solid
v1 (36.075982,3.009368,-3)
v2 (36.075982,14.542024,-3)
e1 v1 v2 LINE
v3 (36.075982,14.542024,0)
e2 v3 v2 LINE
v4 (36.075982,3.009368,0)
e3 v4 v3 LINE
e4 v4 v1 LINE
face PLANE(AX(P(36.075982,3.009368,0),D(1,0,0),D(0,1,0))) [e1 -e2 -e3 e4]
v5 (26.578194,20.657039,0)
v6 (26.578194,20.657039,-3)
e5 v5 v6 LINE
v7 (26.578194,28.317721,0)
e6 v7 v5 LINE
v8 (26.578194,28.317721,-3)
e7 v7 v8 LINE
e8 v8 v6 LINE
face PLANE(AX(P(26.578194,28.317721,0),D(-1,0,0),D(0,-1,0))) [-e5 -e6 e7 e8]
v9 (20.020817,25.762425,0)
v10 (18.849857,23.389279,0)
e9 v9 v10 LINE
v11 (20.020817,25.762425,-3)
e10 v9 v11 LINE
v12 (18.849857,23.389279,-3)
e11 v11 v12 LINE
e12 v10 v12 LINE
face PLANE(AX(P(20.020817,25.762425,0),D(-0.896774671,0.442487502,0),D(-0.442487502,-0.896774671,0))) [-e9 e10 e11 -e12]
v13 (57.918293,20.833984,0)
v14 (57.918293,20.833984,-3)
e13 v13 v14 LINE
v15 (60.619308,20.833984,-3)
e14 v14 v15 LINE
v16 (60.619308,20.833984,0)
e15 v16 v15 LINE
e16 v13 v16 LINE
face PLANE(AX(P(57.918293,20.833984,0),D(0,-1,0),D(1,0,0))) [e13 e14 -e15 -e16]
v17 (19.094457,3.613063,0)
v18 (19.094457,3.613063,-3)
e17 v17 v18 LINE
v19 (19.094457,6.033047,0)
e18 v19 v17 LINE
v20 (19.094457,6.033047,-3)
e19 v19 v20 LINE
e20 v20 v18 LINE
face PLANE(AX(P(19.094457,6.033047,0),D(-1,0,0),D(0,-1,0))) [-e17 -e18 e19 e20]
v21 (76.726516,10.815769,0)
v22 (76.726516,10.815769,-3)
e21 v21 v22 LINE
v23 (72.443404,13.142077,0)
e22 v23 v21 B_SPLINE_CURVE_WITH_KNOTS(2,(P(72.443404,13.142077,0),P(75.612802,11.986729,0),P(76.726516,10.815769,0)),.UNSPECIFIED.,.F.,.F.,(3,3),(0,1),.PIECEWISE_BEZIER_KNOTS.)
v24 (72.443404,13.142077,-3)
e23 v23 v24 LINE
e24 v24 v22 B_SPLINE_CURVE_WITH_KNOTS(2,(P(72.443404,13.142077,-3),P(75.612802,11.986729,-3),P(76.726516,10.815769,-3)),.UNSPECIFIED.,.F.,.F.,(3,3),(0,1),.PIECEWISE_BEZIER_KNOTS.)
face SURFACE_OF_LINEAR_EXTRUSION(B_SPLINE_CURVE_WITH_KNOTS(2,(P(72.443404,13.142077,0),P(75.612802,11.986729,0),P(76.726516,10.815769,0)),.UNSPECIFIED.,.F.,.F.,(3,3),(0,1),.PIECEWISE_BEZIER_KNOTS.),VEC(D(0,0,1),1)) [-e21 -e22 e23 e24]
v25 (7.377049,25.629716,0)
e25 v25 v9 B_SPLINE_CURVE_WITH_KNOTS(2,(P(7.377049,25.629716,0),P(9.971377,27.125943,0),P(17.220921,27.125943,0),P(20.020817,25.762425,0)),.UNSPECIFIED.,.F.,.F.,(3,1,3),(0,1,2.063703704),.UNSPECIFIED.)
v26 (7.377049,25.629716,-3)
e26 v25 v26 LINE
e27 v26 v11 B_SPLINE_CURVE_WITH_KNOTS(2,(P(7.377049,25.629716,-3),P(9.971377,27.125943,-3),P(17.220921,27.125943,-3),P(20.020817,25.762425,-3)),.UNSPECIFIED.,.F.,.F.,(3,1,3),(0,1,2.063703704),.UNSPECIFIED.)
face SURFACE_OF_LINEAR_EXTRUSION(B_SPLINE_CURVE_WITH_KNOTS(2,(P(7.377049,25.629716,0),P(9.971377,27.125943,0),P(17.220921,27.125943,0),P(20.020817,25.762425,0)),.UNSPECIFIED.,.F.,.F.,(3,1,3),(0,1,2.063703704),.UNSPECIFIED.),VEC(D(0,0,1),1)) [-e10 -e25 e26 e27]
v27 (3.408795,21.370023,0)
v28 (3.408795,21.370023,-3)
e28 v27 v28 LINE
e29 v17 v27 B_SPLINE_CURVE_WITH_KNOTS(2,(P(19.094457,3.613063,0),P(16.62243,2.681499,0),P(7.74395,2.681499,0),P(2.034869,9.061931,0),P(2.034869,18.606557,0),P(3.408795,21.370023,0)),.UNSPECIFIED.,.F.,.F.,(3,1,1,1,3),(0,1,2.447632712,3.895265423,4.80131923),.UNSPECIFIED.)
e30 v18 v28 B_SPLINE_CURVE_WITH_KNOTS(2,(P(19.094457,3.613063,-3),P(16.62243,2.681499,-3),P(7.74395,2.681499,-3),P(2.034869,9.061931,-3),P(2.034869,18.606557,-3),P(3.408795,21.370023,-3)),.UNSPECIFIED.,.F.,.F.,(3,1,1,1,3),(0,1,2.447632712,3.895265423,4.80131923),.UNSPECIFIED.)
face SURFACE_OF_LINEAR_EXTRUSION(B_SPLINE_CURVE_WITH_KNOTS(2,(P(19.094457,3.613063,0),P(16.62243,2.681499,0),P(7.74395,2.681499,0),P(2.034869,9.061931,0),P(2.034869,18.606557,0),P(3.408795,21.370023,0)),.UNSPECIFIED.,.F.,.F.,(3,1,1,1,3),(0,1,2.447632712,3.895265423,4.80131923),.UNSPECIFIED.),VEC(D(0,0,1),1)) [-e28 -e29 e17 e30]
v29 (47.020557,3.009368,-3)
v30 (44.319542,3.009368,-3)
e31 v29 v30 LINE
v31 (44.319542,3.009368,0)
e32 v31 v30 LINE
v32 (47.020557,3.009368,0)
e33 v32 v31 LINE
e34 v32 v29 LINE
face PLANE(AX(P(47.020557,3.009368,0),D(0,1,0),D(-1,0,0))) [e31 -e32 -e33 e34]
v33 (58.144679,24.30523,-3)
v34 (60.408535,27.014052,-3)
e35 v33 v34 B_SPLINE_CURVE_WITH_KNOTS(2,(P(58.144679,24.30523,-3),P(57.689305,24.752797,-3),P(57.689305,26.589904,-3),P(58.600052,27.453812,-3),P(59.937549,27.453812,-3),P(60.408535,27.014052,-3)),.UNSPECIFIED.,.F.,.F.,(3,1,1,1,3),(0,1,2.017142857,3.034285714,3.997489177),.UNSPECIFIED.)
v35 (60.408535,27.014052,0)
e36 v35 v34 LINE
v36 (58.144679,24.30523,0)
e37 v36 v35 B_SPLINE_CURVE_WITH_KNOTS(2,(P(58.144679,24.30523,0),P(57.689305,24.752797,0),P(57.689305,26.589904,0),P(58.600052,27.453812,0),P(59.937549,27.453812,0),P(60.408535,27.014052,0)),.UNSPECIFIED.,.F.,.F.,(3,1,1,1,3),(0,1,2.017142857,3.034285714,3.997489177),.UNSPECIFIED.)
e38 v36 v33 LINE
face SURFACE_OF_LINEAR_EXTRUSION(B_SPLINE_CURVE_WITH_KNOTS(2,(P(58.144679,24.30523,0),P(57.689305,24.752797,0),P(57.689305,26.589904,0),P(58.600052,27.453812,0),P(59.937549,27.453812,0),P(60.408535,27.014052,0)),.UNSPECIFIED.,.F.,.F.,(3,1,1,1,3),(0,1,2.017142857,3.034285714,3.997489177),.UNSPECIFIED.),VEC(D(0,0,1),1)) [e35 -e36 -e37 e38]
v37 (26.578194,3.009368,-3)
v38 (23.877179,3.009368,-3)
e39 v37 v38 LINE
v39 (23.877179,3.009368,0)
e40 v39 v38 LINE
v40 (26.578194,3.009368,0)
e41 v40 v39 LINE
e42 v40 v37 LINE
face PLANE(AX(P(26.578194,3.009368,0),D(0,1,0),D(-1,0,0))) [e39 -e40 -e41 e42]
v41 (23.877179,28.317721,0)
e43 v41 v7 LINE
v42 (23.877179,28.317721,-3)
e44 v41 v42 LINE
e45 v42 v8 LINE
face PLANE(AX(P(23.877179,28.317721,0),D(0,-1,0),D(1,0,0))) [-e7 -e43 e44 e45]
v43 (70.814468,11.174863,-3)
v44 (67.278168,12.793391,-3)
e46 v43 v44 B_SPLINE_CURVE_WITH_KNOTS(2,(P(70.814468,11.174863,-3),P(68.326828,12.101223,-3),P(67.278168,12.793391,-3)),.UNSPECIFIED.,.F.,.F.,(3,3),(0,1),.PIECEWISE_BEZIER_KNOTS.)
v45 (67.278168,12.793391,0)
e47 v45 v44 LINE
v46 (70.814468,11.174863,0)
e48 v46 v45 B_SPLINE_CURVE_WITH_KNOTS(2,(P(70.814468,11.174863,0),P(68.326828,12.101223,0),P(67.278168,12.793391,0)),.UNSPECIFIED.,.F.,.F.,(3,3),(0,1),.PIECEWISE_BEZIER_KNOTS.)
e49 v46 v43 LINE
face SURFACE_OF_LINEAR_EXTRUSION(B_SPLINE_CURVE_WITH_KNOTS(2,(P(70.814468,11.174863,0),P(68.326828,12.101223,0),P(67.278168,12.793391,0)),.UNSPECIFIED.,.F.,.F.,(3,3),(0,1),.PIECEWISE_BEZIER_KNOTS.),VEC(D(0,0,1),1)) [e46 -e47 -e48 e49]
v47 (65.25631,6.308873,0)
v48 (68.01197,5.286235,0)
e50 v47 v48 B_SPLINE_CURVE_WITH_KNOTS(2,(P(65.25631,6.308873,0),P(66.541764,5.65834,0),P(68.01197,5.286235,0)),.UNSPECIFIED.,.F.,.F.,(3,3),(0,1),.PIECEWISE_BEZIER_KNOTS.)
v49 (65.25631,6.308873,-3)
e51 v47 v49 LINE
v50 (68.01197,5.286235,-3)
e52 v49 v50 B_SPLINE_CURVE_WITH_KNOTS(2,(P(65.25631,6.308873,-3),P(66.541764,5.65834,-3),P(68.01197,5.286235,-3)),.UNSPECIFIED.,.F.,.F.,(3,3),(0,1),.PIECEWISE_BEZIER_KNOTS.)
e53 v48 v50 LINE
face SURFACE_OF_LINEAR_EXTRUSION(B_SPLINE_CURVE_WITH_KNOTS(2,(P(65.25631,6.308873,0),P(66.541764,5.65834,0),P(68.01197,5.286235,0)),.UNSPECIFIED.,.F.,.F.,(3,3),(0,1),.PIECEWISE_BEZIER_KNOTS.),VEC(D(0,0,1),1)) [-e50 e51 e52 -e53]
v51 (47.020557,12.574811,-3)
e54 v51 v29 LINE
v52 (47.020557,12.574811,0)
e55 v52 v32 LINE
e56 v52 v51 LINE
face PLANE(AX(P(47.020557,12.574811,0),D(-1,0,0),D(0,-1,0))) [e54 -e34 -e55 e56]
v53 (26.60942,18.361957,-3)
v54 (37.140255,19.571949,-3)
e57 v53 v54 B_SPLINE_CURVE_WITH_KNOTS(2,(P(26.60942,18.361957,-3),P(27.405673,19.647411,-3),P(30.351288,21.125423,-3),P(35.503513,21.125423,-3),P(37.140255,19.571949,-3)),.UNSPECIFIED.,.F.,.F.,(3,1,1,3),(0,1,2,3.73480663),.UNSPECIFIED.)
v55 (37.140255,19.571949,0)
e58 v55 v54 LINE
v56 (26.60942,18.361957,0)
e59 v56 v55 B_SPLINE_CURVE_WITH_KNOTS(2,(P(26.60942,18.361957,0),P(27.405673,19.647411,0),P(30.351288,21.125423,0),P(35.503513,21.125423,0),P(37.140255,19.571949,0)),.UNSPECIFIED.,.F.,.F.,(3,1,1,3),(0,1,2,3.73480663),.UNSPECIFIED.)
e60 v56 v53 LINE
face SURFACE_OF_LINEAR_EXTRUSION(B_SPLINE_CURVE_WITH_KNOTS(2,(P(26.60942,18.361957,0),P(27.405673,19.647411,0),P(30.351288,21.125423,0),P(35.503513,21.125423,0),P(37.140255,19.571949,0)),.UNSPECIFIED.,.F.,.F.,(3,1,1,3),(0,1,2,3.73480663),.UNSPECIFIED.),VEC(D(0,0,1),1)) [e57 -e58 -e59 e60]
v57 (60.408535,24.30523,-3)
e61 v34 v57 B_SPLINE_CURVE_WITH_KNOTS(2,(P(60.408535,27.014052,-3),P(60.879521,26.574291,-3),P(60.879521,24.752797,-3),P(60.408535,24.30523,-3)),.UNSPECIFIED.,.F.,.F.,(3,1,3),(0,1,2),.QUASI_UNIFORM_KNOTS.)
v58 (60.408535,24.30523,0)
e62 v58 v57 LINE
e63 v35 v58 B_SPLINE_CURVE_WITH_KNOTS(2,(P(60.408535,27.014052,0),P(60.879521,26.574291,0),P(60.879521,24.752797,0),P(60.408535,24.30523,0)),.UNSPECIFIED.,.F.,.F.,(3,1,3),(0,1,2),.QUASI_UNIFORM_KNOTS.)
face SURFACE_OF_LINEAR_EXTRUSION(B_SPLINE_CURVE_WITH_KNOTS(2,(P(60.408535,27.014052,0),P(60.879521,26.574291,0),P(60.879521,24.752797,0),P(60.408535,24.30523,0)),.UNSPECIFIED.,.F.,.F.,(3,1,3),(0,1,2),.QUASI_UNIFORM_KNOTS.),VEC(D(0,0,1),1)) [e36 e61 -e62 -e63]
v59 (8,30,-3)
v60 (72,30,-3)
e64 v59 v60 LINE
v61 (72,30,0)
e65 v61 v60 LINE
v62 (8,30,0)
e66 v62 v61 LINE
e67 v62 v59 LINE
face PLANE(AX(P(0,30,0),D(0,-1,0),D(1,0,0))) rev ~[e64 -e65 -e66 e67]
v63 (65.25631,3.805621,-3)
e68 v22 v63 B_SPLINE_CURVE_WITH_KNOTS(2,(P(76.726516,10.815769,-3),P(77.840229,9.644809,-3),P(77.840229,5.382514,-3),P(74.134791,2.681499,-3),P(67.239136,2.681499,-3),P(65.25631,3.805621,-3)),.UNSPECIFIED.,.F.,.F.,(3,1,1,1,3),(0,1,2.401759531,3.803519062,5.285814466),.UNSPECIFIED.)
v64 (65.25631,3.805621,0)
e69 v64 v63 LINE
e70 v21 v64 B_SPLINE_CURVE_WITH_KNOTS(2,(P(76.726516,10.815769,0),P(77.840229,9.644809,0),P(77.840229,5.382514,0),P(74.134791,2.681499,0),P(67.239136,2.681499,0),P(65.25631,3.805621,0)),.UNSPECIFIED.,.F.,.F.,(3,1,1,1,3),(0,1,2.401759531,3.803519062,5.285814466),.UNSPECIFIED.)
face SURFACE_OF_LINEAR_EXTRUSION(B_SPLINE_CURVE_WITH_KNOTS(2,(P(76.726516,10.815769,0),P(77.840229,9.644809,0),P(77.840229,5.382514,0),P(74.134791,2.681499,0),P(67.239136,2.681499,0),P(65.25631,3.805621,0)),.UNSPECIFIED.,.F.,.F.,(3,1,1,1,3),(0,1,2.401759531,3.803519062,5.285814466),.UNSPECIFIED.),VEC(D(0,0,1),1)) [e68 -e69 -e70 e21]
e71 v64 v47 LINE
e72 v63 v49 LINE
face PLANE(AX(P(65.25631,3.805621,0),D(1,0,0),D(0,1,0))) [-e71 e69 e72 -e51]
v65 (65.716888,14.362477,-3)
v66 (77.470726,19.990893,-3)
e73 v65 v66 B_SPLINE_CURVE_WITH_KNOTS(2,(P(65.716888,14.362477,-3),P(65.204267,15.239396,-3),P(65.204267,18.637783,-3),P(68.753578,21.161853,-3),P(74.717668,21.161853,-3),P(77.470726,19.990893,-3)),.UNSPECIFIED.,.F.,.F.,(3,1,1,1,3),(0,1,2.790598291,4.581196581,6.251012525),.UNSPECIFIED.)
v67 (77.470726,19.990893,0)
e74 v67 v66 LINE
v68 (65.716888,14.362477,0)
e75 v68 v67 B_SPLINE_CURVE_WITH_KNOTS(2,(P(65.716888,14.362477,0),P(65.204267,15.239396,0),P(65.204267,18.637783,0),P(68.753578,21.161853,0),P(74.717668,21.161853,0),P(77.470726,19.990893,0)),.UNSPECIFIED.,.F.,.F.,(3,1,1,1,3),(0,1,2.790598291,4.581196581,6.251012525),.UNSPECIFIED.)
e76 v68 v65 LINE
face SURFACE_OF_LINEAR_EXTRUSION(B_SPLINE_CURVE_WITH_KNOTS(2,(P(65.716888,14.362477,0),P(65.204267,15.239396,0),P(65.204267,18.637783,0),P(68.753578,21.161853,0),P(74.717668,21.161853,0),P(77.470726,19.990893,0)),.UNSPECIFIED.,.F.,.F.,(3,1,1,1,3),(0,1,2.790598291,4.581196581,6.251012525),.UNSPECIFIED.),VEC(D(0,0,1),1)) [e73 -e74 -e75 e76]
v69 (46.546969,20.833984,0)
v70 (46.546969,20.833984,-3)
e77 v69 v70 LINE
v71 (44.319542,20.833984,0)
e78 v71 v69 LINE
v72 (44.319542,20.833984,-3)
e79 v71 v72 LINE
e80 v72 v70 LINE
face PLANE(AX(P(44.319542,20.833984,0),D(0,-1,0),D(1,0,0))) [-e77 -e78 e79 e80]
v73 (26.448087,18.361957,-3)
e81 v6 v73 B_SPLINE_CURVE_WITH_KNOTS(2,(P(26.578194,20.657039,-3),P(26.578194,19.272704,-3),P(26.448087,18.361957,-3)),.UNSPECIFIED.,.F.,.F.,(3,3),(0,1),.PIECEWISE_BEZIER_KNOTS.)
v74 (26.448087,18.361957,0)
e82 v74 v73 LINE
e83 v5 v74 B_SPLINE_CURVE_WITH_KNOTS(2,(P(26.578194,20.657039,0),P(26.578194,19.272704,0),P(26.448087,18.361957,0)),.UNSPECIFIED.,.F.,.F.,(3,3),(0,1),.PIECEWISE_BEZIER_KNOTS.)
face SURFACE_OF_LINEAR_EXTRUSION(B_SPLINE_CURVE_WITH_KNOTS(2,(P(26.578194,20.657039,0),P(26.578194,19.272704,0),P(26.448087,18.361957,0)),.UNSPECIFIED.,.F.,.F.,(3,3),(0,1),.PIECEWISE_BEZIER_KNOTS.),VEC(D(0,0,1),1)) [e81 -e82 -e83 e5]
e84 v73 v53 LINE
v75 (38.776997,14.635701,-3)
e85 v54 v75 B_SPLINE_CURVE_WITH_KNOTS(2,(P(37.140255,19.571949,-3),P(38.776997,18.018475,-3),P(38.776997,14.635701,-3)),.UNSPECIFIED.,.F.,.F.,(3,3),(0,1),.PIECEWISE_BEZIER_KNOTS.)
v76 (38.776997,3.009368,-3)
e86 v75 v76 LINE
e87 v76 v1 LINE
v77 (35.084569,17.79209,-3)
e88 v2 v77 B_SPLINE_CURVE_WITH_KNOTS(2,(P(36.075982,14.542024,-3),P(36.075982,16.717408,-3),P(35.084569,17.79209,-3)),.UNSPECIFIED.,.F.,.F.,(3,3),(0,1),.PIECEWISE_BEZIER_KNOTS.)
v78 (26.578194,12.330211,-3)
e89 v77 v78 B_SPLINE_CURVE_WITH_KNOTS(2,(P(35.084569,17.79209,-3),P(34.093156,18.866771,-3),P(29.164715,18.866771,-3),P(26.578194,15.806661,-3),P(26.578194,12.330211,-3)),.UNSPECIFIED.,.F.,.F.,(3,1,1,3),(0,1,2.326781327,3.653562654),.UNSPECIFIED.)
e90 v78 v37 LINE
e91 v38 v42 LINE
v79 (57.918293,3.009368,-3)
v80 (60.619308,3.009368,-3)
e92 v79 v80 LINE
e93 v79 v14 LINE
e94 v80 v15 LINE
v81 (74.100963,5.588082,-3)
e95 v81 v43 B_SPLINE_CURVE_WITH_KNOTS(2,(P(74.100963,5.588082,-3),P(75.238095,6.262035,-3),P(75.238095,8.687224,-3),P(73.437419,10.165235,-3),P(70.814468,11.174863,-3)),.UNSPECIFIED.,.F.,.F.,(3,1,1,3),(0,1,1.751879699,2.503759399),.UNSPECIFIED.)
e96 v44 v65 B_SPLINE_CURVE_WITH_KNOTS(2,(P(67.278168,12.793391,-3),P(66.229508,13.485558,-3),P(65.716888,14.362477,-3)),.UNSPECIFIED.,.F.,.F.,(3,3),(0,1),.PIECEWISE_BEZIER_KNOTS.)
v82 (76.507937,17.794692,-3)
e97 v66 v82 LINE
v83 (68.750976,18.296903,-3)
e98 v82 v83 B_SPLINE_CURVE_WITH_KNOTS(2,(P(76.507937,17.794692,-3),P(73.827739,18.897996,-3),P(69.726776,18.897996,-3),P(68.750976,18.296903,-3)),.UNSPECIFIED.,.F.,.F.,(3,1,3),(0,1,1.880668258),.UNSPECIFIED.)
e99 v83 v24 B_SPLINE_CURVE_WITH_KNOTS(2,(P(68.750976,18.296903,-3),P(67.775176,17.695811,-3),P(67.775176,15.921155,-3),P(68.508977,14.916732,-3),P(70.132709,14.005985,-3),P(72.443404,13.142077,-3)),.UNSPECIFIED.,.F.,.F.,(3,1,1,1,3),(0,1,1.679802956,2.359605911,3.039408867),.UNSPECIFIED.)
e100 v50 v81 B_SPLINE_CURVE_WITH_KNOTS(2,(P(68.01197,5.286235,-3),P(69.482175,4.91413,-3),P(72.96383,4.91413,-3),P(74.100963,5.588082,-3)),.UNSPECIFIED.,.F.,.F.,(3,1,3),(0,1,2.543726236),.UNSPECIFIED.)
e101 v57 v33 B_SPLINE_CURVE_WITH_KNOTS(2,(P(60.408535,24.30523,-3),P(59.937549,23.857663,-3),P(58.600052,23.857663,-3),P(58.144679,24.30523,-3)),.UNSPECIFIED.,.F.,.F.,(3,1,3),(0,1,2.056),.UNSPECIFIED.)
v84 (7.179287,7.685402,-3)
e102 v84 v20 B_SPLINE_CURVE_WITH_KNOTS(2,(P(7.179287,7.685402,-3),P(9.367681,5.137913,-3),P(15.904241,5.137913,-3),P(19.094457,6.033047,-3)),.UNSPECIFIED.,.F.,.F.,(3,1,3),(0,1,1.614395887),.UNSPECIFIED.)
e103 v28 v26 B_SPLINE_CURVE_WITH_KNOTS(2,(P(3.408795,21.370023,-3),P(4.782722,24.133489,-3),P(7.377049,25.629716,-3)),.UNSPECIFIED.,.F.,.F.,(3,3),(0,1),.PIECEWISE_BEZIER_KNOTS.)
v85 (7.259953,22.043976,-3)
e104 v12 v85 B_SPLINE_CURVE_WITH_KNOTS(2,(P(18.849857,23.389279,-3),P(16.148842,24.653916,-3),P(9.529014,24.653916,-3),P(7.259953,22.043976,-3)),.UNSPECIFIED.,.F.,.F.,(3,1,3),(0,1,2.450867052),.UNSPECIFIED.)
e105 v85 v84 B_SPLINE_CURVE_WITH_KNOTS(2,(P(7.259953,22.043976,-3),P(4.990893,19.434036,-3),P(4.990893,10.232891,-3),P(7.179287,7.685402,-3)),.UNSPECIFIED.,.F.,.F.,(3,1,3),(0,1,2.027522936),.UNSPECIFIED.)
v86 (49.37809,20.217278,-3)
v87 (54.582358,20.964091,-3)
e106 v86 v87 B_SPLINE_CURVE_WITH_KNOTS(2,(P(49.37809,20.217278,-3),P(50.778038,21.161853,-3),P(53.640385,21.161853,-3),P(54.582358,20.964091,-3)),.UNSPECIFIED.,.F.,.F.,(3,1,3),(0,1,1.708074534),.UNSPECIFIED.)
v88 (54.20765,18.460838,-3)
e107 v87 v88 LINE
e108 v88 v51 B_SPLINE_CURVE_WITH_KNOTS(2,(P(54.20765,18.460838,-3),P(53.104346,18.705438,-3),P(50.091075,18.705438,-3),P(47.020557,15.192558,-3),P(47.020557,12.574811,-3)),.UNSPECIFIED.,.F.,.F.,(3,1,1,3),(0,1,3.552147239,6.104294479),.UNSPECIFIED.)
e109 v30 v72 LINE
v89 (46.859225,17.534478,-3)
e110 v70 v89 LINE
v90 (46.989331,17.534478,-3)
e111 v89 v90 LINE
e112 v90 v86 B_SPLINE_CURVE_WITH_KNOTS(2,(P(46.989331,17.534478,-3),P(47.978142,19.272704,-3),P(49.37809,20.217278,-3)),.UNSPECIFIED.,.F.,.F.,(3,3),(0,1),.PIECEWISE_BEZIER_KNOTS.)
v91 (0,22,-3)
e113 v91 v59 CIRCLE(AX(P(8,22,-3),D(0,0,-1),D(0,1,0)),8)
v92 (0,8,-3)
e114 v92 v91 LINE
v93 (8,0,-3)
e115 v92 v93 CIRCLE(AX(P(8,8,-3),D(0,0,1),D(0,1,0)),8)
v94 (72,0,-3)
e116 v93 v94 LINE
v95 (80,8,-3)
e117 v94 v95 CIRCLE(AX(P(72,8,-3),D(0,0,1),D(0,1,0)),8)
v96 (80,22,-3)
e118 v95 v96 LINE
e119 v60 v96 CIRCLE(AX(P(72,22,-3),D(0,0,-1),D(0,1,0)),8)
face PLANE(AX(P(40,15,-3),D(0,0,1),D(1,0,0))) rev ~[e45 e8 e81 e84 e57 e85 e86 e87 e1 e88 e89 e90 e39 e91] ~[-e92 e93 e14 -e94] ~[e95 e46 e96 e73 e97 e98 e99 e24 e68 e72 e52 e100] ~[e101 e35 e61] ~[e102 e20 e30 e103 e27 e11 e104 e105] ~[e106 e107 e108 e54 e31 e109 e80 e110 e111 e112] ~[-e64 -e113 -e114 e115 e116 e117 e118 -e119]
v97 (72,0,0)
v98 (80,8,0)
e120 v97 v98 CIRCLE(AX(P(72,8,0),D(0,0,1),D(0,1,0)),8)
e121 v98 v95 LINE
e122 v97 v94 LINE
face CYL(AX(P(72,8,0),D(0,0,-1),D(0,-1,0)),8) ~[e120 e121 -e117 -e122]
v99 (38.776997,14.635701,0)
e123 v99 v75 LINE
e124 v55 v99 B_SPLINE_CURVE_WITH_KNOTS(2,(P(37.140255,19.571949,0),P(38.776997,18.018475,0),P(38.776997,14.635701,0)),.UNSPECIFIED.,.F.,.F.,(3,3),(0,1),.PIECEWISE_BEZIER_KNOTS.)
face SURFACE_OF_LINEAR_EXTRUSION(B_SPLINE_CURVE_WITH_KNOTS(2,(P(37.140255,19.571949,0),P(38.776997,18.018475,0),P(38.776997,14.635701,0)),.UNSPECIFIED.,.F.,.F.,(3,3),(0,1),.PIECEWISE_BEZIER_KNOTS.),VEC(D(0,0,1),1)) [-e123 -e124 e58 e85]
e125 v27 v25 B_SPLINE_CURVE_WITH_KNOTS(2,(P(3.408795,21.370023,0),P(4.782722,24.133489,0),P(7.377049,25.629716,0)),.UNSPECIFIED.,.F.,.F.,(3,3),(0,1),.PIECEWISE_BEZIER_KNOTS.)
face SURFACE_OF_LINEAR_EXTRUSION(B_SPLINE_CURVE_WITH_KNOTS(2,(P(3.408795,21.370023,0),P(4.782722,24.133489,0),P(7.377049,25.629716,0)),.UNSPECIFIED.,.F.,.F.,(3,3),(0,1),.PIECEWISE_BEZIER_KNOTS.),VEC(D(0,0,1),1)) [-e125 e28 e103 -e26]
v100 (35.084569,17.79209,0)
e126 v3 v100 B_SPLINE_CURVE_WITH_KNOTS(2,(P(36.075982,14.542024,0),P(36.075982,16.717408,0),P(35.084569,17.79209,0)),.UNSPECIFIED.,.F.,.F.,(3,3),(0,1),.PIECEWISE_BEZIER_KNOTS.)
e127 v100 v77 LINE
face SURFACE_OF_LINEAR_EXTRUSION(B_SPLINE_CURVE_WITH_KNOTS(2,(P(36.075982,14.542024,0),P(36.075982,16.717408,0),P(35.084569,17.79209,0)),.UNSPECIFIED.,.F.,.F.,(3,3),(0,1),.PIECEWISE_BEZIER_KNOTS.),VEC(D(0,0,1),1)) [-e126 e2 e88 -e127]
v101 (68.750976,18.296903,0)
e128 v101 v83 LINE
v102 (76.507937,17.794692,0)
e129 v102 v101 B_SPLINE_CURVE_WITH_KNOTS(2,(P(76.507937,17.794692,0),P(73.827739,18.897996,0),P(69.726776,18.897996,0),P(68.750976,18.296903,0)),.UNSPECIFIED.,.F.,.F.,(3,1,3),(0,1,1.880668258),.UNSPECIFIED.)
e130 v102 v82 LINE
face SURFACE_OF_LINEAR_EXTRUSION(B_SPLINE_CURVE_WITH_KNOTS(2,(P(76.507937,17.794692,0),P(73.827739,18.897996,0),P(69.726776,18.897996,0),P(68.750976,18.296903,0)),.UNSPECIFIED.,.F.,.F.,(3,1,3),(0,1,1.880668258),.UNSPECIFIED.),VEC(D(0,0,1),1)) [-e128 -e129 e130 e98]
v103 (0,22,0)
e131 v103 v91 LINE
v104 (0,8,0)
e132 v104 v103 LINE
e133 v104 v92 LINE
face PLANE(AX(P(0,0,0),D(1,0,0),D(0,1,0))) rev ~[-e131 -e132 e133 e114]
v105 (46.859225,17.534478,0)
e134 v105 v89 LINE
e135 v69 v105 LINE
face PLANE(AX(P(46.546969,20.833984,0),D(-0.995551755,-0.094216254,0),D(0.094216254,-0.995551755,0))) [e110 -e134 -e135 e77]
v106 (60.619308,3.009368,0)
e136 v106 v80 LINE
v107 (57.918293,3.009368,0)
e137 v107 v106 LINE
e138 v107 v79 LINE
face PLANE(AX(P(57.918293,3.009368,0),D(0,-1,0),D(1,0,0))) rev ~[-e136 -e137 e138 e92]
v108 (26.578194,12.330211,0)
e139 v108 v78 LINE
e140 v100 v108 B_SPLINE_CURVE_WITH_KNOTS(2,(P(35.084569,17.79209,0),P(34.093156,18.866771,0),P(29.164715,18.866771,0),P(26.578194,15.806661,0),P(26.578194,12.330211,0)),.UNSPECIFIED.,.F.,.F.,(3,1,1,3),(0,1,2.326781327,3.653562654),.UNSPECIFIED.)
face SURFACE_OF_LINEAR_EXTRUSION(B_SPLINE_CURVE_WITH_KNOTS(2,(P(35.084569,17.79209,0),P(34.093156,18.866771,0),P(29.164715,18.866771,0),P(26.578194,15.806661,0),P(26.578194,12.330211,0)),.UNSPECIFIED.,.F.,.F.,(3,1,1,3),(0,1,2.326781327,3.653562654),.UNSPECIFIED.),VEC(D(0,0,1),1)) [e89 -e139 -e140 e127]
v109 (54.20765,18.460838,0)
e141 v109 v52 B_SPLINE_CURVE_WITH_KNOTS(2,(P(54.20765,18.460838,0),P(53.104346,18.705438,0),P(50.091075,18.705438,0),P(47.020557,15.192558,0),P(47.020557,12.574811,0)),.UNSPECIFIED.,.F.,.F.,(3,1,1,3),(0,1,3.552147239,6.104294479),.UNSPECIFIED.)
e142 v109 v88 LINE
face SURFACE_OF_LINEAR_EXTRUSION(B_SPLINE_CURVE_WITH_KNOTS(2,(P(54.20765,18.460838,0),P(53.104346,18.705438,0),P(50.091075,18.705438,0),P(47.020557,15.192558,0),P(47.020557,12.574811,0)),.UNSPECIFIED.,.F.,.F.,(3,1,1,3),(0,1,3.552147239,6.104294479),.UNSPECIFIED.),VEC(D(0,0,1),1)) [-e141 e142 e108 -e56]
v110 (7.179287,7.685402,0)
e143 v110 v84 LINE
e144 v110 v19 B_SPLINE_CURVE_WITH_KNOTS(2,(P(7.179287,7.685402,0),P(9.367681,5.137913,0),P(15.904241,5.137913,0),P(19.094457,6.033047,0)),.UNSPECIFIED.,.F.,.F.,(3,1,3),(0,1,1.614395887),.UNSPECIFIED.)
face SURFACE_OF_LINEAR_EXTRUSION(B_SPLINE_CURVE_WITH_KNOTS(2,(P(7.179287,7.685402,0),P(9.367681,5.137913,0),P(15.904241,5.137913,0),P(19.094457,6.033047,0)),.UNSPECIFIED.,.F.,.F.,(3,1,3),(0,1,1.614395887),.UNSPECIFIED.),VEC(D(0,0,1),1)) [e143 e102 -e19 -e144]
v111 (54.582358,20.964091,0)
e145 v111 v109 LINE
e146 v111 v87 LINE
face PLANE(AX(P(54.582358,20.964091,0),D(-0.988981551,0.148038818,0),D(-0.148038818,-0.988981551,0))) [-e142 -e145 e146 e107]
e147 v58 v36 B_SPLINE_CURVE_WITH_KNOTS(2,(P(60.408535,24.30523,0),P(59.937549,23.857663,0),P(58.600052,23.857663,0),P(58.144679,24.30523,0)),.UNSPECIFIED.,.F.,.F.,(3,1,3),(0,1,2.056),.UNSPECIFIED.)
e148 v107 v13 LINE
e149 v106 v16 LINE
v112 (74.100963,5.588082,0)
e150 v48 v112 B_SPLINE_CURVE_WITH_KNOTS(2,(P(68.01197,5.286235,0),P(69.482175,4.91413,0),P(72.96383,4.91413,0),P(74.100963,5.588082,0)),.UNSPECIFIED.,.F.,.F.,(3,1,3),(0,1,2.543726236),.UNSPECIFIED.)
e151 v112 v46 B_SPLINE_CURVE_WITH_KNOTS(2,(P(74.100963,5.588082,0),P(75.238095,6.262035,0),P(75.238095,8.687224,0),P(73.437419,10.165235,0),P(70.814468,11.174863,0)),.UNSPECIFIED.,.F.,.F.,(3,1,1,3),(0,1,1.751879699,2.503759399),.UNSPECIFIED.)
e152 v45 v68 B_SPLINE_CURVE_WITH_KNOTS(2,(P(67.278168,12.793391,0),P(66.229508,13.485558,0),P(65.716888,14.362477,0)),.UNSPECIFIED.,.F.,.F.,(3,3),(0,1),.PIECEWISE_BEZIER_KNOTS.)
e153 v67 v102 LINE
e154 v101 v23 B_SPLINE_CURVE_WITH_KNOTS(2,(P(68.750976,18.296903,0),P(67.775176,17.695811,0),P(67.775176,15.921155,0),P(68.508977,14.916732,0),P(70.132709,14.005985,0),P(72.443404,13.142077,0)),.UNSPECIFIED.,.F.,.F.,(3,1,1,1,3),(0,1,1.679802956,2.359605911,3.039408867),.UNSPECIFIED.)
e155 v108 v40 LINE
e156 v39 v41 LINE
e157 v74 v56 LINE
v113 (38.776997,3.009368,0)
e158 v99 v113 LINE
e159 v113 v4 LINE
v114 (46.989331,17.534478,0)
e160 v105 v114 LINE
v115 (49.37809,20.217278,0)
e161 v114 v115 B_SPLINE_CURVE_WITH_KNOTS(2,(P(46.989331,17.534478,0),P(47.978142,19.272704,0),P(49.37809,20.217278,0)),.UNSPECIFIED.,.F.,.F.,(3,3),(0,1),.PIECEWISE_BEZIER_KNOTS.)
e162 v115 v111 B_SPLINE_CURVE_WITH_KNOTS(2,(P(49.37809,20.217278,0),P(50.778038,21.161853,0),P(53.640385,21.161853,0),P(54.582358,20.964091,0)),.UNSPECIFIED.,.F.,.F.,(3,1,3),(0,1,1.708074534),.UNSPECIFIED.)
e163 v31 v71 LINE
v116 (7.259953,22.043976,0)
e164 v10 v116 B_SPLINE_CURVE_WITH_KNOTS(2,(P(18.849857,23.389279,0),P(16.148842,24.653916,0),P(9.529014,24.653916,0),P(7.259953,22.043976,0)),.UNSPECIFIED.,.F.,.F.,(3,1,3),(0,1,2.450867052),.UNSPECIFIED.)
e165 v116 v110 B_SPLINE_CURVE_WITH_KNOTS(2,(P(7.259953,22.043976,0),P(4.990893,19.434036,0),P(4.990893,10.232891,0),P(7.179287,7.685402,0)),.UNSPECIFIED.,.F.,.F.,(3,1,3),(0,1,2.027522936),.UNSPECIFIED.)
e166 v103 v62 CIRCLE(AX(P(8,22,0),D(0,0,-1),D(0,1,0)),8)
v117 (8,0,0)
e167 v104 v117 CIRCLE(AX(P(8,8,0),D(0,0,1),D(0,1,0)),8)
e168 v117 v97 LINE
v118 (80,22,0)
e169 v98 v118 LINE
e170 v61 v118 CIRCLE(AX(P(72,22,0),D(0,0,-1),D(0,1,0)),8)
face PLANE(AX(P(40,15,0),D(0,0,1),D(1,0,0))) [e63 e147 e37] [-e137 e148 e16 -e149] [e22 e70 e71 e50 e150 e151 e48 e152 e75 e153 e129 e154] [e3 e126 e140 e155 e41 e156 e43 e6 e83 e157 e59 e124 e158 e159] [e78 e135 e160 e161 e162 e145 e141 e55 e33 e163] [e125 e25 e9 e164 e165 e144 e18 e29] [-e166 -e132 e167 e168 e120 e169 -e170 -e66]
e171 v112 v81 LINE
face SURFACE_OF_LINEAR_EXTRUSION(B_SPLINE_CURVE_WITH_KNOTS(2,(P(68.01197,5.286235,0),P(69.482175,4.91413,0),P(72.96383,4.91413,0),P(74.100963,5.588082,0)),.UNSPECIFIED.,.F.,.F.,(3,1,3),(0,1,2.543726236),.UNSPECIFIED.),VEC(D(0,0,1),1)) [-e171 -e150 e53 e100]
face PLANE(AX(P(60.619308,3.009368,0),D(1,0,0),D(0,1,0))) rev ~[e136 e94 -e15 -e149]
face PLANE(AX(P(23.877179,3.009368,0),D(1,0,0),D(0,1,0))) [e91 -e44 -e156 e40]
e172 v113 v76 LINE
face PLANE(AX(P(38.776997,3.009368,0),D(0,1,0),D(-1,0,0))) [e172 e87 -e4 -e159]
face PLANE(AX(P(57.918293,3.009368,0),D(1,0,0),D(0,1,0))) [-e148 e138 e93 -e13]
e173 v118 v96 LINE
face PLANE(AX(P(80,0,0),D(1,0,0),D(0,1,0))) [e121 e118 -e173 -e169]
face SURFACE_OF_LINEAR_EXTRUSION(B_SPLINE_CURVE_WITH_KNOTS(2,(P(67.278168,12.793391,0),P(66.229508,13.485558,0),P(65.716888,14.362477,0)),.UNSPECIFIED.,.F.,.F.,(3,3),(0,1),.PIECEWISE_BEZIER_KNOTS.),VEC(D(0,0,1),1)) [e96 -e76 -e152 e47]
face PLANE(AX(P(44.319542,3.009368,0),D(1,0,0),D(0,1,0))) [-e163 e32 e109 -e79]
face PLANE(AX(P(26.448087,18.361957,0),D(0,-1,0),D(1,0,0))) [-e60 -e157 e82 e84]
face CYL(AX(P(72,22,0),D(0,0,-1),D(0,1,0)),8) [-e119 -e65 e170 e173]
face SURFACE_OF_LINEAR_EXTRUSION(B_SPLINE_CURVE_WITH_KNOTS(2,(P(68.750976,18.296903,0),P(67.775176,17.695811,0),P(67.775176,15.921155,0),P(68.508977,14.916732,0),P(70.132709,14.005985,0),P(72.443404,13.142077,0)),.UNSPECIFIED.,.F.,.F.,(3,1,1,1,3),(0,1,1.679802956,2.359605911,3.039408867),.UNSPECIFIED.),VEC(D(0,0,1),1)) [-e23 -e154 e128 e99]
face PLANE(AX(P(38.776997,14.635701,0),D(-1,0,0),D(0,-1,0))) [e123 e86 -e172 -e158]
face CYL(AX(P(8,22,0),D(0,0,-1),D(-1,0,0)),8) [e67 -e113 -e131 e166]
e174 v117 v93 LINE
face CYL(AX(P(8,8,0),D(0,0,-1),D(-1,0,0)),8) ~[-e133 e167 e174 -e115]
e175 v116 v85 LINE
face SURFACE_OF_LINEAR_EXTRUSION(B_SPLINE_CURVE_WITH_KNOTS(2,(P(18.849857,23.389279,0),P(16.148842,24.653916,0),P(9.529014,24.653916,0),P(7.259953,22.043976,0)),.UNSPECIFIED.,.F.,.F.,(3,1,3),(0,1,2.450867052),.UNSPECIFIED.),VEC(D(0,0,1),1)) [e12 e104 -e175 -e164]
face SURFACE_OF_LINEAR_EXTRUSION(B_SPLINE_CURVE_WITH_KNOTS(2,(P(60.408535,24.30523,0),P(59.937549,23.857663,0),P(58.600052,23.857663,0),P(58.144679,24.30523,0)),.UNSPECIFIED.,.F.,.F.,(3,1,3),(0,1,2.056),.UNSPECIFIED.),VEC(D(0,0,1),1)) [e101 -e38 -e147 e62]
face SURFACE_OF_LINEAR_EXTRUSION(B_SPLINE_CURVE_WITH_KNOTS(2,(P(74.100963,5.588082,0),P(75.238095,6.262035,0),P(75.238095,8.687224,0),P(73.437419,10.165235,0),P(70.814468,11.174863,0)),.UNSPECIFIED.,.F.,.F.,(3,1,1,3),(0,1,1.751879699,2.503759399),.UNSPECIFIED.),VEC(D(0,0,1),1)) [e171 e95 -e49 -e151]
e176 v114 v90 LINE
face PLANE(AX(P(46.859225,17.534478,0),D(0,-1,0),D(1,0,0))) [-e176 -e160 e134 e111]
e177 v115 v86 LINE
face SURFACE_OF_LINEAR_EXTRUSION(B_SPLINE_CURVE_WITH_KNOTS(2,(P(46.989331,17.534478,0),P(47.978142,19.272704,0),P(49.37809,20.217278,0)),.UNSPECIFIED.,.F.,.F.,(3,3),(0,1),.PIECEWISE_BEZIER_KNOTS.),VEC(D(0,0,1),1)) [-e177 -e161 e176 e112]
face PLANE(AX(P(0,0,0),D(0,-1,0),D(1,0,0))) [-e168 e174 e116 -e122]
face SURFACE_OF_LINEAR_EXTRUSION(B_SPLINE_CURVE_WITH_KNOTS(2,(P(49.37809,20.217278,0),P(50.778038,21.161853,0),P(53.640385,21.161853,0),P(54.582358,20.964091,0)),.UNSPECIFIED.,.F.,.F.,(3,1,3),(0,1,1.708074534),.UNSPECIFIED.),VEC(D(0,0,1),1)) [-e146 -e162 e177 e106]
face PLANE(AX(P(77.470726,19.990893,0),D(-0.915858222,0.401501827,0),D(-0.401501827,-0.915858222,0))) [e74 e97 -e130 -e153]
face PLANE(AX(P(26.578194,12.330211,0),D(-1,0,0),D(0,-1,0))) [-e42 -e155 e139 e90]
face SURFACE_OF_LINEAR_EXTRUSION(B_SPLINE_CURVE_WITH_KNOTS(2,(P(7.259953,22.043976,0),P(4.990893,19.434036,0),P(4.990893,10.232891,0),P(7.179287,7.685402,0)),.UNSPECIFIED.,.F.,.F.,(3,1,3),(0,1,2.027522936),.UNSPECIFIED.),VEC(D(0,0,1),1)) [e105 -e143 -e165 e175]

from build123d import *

# Parameters (mm, degrees)
F0_W     = 80
F0_H     = 30
F0_W_2   = 2.7010148322
F0_H_2   = 17.8246161853
F1_DEPTH = 3
F2_R     = 8


with BuildPart() as f1:
    # F0 (on Top) → F1 (new body)
    with BuildSketch(Plane.XY):
        with Locations((40, 15)):
            Rectangle(F0_W, F0_H)
        with BuildLine():
            add(Edge.make_bspline(
                [(18.8498568826, 23.389279209), (16.1488420505, 24.6539162113), (13.4478272183, 24.6539162113)],
                knots=[0, 0, 0, 1, 1, 1], degree=2))
            add(Edge.make_bspline(
                [(13.4478272183, 24.6539162113), (9.5290137913, 24.6539162113), (7.2599531616, 22.0439760604)],
                knots=[0, 0, 0, 1, 1, 1], degree=2))
            add(Edge.make_bspline(
                [(7.2599531616, 22.0439760604), (4.9908925319, 19.4340359094), (4.9908925319, 14.89591465)],
                knots=[0, 0, 0, 1, 1, 1], degree=2))
            add(Edge.make_bspline(
                [(4.9908925319, 14.89591465), (4.9908925319, 10.2328909706), (7.1792870154, 7.6854020297)],
                knots=[0, 0, 0, 1, 1, 1], degree=2))
            add(Edge.make_bspline(
                [(7.1792870154, 7.6854020297), (9.3676814988, 5.1379130887), (13.4166016133, 5.1379130887)],
                knots=[0, 0, 0, 1, 1, 1], degree=2))
            add(Edge.make_bspline(
                [(13.4166016133, 5.1379130887), (15.904241478, 5.1379130887), (19.0944574551, 6.0330470986)],
                knots=[0, 0, 0, 1, 1, 1], degree=2))
            Line((19.0944574551, 6.0330470986), (19.0944574551, 3.6130627114))
            add(Edge.make_bspline(
                [(19.0944574551, 3.6130627114), (16.6224303929, 2.681498829), (12.9950559459, 2.681498829)],
                knots=[0, 0, 0, 1, 1, 1], degree=2))
            add(Edge.make_bspline(
                [(12.9950559459, 2.681498829), (7.743950039, 2.681498829), (4.8894093156, 5.8717148061)],
                knots=[0, 0, 0, 1, 1, 1], degree=2))
            add(Edge.make_bspline(
                [(4.8894093156, 5.8717148061), (2.0348685922, 9.0619307832), (2.0348685922, 14.9323445225)],
                knots=[0, 0, 0, 1, 1, 1], degree=2))
            add(Edge.make_bspline(
                [(2.0348685922, 14.9323445225), (2.0348685922, 18.606557377), (3.4087952121, 21.3700234192)],
                knots=[0, 0, 0, 1, 1, 1], degree=2))
            add(Edge.make_bspline(
                [(3.4087952121, 21.3700234192), (4.7827218319, 24.1334894614), (7.3770491803, 25.6297163674)],
                knots=[0, 0, 0, 1, 1, 1], degree=2))
            add(Edge.make_bspline(
                [(7.3770491803, 25.6297163674), (9.9713765288, 27.1259432735), (13.4842570908, 27.1259432735)],
                knots=[0, 0, 0, 1, 1, 1], degree=2))
            add(Edge.make_bspline(
                [(13.4842570908, 27.1259432735), (17.2209211553, 27.1259432735), (20.02081707, 25.7624251887)],
                knots=[0, 0, 0, 1, 1, 1], degree=2))
            Line((20.02081707, 25.7624251887), (18.8498568826, 23.389279209))
        make_face(mode=Mode.SUBTRACT)
        with BuildLine():
            add(Edge.make_bspline(
                [(49.3780900338, 20.2172781681), (50.7780379912, 21.1618527192), (52.4538121259, 21.1618527192)],
                knots=[0, 0, 0, 1, 1, 1], degree=2))
            add(Edge.make_bspline(
                [(52.4538121259, 21.1618527192), (53.6403851158, 21.1618527192), (54.5823575332, 20.9640905543)],
                knots=[0, 0, 0, 1, 1, 1], degree=2))
            Line((54.5823575332, 20.9640905543), (54.2076502732, 18.4608378871))
            add(Edge.make_bspline(
                [(54.2076502732, 18.4608378871), (53.1043455634, 18.7054384595), (52.256049961, 18.7054384595)],
                knots=[0, 0, 0, 1, 1, 1], degree=2))
            add(Edge.make_bspline(
                [(52.256049961, 18.7054384595), (50.0910746812, 18.7054384595), (48.5558157689, 16.9489981785)],
                knots=[0, 0, 0, 1, 1, 1], degree=2))
            add(Edge.make_bspline(
                [(48.5558157689, 16.9489981785), (47.0205568566, 15.1925578975), (47.0205568566, 12.5748113453)],
                knots=[0, 0, 0, 1, 1, 1], degree=2))
            Line((47.0205568566, 12.5748113453), (47.0205568566, 3.0093676815))
            Line((47.0205568566, 3.0093676815), (44.3195420245, 3.0093676815))
            Line((44.3195420245, 3.0093676815), (44.3195420245, 20.8339838668))
            Line((44.3195420245, 20.8339838668), (46.5469685142, 20.8339838668))
            Line((46.5469685142, 20.8339838668), (46.8592245641, 17.5344782722))
            Line((46.8592245641, 17.5344782722), (46.9893312516, 17.5344782722))
            add(Edge.make_bspline(
                [(46.9893312516, 17.5344782722), (47.9781420765, 19.272703617), (49.3780900338, 20.2172781681)],
                knots=[0, 0, 0, 1, 1, 1], degree=2))
        make_face(mode=Mode.SUBTRACT)
        with Locations((59.2688004163, 11.9216757741)):
            Rectangle(F0_W_2, F0_H_2, mode=Mode.SUBTRACT)
        with BuildLine():
            add(Edge.make_bspline(
                [(76.7265157429, 10.8157689305), (77.8402289878, 9.6448087432), (77.8402289878, 7.8701535259)],
                knots=[0, 0, 0, 1, 1, 1], degree=2))
            add(Edge.make_bspline(
                [(77.8402289878, 7.8701535259), (77.8402289878, 5.3825136612), (75.987509758, 4.0320062451)],
                knots=[0, 0, 0, 1, 1, 1], degree=2))
            add(Edge.make_bspline(
                [(75.987509758, 4.0320062451), (74.1347905282, 2.681498829), (70.7832422587, 2.681498829)],
                knots=[0, 0, 0, 1, 1, 1], degree=2))
            add(Edge.make_bspline(
                [(70.7832422587, 2.681498829), (67.2391360916, 2.681498829), (65.2563101743, 3.8056206089)],
                knots=[0, 0, 0, 1, 1, 1], degree=2))
            Line((65.2563101743, 3.8056206089), (65.2563101743, 6.3088732761))
            add(Edge.make_bspline(
                [(65.2563101743, 6.3088732761), (66.5417642467, 5.6583398387), (68.0119698152, 5.2862347125)],
                knots=[0, 0, 0, 1, 1, 1], degree=2))
            add(Edge.make_bspline(
                [(68.0119698152, 5.2862347125), (69.4821753838, 4.9141295863), (70.8508977361, 4.9141295863)],
                knots=[0, 0, 0, 1, 1, 1], degree=2))
            add(Edge.make_bspline(
                [(70.8508977361, 4.9141295863), (72.9638303409, 4.9141295863), (74.1009627895, 5.5880822274)],
                knots=[0, 0, 0, 1, 1, 1], degree=2))
            add(Edge.make_bspline(
                [(74.1009627895, 5.5880822274), (75.2380952381, 6.2620348686), (75.2380952381, 7.6463700234)],
                knots=[0, 0, 0, 1, 1, 1], degree=2))
            add(Edge.make_bspline(
                [(75.2380952381, 7.6463700234), (75.2380952381, 8.6872235233), (74.3377569607, 9.4262295082)],
                knots=[0, 0, 0, 1, 1, 1], degree=2))
            add(Edge.make_bspline(
                [(74.3377569607, 9.4262295082), (73.4374186833, 10.1652354931), (70.8144678636, 11.174863388)],
                knots=[0, 0, 0, 1, 1, 1], degree=2))
            add(Edge.make_bspline(
                [(70.8144678636, 11.174863388), (68.326827999, 12.1012230029), (67.2781680978, 12.7933905803)],
                knots=[0, 0, 0, 1, 1, 1], degree=2))
            add(Edge.make_bspline(
                [(67.2781680978, 12.7933905803), (66.2295081967, 13.4855581577), (65.716887848, 14.3624772313)],
                knots=[0, 0, 0, 1, 1, 1], degree=2))
            add(Edge.make_bspline(
                [(65.716887848, 14.3624772313), (65.2042674993, 15.239396305), (65.2042674993, 16.4571948998)],
                knots=[0, 0, 0, 1, 1, 1], degree=2))
            add(Edge.make_bspline(
                [(65.2042674993, 16.4571948998), (65.2042674993, 18.637782982), (66.9789227166, 19.8998178506)],
                knots=[0, 0, 0, 1, 1, 1], degree=2))
            add(Edge.make_bspline(
                [(66.9789227166, 19.8998178506), (68.7535779339, 21.1618527192), (71.839708561, 21.1618527192)],
                knots=[0, 0, 0, 1, 1, 1], degree=2))
            add(Edge.make_bspline(
                [(71.839708561, 21.1618527192), (74.7176684882, 21.1618527192), (77.4707259953, 19.9908925319)],
                knots=[0, 0, 0, 1, 1, 1], degree=2))
            Line((77.4707259953, 19.9908925319), (76.5079365079, 17.7946916472))
            add(Edge.make_bspline(
                [(76.5079365079, 17.7946916472), (73.8277387458, 18.897996357), (71.6471506635, 18.897996357)],
                knots=[0, 0, 0, 1, 1, 1], degree=2))
            add(Edge.make_bspline(
                [(71.6471506635, 18.897996357), (69.7267759563, 18.897996357), (68.7509758002, 18.2969034608)],
                knots=[0, 0, 0, 1, 1, 1], degree=2))
            add(Edge.make_bspline(
                [(68.7509758002, 18.2969034608), (67.775175644, 17.6958105647), (67.775175644, 16.6393442623)],
                knots=[0, 0, 0, 1, 1, 1], degree=2))
            add(Edge.make_bspline(
                [(67.775175644, 16.6393442623), (67.775175644, 15.9211553474), (68.1420765027, 15.4189435337)],
                knots=[0, 0, 0, 1, 1, 1], degree=2))
            add(Edge.make_bspline(
                [(68.1420765027, 15.4189435337), (68.5089773614, 14.91673172), (69.3208430913, 14.4613583138)],
                knots=[0, 0, 0, 1, 1, 1], degree=2))
            add(Edge.make_bspline(
                [(69.3208430913, 14.4613583138), (70.1327088212, 14.0059849076), (72.4434035909, 13.1420765027)],
                knots=[0, 0, 0, 1, 1, 1], degree=2))
            add(Edge.make_bspline(
                [(72.4434035909, 13.1420765027), (75.612802498, 11.9867291179), (76.7265157429, 10.8157689305)],
                knots=[0, 0, 0, 1, 1, 1], degree=2))
        make_face(mode=Mode.SUBTRACT)
        with BuildLine():
            Line((38.7769971377, 3.0093676815), (36.0759823055, 3.0093676815))
            Line((36.0759823055, 3.0093676815), (36.0759823055, 14.5420244601))
            add(Edge.make_bspline(
                [(36.0759823055, 14.5420244601), (36.0759823055, 16.7174082748), (35.0845693469, 17.7920895134)],
                knots=[0, 0, 0, 1, 1, 1], degree=2))
            add(Edge.make_bspline(
                [(35.0845693469, 17.7920895134), (34.0931563882, 18.866770752), (31.975019516, 18.866770752)],
                knots=[0, 0, 0, 1, 1, 1], degree=2))
            add(Edge.make_bspline(
                [(31.975019516, 18.866770752), (29.1647150664, 18.866770752), (27.8714545928, 17.3367161072)],
                knots=[0, 0, 0, 1, 1, 1], degree=2))
            add(Edge.make_bspline(
                [(27.8714545928, 17.3367161072), (26.5781941192, 15.8066614624), (26.5781941192, 12.3302107728)],
                knots=[0, 0, 0, 1, 1, 1], degree=2))
            Line((26.5781941192, 12.3302107728), (26.5781941192, 3.0093676815))
            Line((26.5781941192, 3.0093676815), (23.877179287, 3.0093676815))
            Line((23.877179287, 3.0093676815), (23.877179287, 28.3177205308))
            Line((23.877179287, 28.3177205308), (26.5781941192, 28.3177205308))
            Line((26.5781941192, 28.3177205308), (26.5781941192, 20.6570387718))
            add(Edge.make_bspline(
                [(26.5781941192, 20.6570387718), (26.5781941192, 19.272703617), (26.4480874317, 18.3619568046)],
                knots=[0, 0, 0, 1, 1, 1], degree=2))
            Line((26.4480874317, 18.3619568046), (26.6094197242, 18.3619568046))
            add(Edge.make_bspline(
                [(26.6094197242, 18.3619568046), (27.4056726516, 19.6474108769), (28.8784803539, 20.3864168618)],
                knots=[0, 0, 0, 1, 1, 1], degree=2))
            add(Edge.make_bspline(
                [(28.8784803539, 20.3864168618), (30.3512880562, 21.1254228467), (32.235232891, 21.1254228467)],
                knots=[0, 0, 0, 1, 1, 1], degree=2))
            add(Edge.make_bspline(
                [(32.235232891, 21.1254228467), (35.5035128806, 21.1254228467), (37.1402550091, 19.5719489982)],
                knots=[0, 0, 0, 1, 1, 1], degree=2))
            add(Edge.make_bspline(
                [(37.1402550091, 19.5719489982), (38.7769971377, 18.0184751496), (38.7769971377, 14.635701275)],
                knots=[0, 0, 0, 1, 1, 1], degree=2))
            Line((38.7769971377, 14.635701275), (38.7769971377, 3.0093676815))
        make_face(mode=Mode.SUBTRACT)
        with BuildLine():
            add(Edge.make_bspline(
                [(58.1446786365, 24.3052302888), (57.6893052303, 24.7527972938), (57.6893052303, 25.6635441062)],
                knots=[0, 0, 0, 1, 1, 1], degree=2))
            add(Edge.make_bspline(
                [(57.6893052303, 25.6635441062), (57.6893052303, 26.5899037211), (58.1446786365, 27.0218579235)],
                knots=[0, 0, 0, 1, 1, 1], degree=2))
            add(Edge.make_bspline(
                [(58.1446786365, 27.0218579235), (58.6000520427, 27.4538121259), (59.2870153526, 27.4538121259)],
                knots=[0, 0, 0, 1, 1, 1], degree=2))
            add(Edge.make_bspline(
                [(59.2870153526, 27.4538121259), (59.93754879, 27.4538121259), (60.4085349987, 27.0140515222)],
                knots=[0, 0, 0, 1, 1, 1], degree=2))
            add(Edge.make_bspline(
                [(60.4085349987, 27.0140515222), (60.8795212074, 26.5742909186), (60.8795212074, 25.6635441062)],
                knots=[0, 0, 0, 1, 1, 1], degree=2))
            add(Edge.make_bspline(
                [(60.8795212074, 25.6635441062), (60.8795212074, 24.7527972938), (60.4085349987, 24.3052302888)],
                knots=[0, 0, 0, 1, 1, 1], degree=2))
            add(Edge.make_bspline(
                [(60.4085349987, 24.3052302888), (59.93754879, 23.8576632839), (59.2870153526, 23.8576632839)],
                knots=[0, 0, 0, 1, 1, 1], degree=2))
            add(Edge.make_bspline(
                [(59.2870153526, 23.8576632839), (58.6000520427, 23.8576632839), (58.1446786365, 24.3052302888)],
                knots=[0, 0, 0, 1, 1, 1], degree=2))
        make_face(mode=Mode.SUBTRACT)
    extrude(amount=-F1_DEPTH)

    # F2
    f2_edges = [f1.edges().sort_by_distance(p)[0] for p in [
        (0, 30, -1.5),
        (0, 0, -1.5),
        (80, 30, -1.5),
        (80, 0, -1.5),
    ]]
    fillet(f2_edges, radius=F2_R)


solid = f1.part
